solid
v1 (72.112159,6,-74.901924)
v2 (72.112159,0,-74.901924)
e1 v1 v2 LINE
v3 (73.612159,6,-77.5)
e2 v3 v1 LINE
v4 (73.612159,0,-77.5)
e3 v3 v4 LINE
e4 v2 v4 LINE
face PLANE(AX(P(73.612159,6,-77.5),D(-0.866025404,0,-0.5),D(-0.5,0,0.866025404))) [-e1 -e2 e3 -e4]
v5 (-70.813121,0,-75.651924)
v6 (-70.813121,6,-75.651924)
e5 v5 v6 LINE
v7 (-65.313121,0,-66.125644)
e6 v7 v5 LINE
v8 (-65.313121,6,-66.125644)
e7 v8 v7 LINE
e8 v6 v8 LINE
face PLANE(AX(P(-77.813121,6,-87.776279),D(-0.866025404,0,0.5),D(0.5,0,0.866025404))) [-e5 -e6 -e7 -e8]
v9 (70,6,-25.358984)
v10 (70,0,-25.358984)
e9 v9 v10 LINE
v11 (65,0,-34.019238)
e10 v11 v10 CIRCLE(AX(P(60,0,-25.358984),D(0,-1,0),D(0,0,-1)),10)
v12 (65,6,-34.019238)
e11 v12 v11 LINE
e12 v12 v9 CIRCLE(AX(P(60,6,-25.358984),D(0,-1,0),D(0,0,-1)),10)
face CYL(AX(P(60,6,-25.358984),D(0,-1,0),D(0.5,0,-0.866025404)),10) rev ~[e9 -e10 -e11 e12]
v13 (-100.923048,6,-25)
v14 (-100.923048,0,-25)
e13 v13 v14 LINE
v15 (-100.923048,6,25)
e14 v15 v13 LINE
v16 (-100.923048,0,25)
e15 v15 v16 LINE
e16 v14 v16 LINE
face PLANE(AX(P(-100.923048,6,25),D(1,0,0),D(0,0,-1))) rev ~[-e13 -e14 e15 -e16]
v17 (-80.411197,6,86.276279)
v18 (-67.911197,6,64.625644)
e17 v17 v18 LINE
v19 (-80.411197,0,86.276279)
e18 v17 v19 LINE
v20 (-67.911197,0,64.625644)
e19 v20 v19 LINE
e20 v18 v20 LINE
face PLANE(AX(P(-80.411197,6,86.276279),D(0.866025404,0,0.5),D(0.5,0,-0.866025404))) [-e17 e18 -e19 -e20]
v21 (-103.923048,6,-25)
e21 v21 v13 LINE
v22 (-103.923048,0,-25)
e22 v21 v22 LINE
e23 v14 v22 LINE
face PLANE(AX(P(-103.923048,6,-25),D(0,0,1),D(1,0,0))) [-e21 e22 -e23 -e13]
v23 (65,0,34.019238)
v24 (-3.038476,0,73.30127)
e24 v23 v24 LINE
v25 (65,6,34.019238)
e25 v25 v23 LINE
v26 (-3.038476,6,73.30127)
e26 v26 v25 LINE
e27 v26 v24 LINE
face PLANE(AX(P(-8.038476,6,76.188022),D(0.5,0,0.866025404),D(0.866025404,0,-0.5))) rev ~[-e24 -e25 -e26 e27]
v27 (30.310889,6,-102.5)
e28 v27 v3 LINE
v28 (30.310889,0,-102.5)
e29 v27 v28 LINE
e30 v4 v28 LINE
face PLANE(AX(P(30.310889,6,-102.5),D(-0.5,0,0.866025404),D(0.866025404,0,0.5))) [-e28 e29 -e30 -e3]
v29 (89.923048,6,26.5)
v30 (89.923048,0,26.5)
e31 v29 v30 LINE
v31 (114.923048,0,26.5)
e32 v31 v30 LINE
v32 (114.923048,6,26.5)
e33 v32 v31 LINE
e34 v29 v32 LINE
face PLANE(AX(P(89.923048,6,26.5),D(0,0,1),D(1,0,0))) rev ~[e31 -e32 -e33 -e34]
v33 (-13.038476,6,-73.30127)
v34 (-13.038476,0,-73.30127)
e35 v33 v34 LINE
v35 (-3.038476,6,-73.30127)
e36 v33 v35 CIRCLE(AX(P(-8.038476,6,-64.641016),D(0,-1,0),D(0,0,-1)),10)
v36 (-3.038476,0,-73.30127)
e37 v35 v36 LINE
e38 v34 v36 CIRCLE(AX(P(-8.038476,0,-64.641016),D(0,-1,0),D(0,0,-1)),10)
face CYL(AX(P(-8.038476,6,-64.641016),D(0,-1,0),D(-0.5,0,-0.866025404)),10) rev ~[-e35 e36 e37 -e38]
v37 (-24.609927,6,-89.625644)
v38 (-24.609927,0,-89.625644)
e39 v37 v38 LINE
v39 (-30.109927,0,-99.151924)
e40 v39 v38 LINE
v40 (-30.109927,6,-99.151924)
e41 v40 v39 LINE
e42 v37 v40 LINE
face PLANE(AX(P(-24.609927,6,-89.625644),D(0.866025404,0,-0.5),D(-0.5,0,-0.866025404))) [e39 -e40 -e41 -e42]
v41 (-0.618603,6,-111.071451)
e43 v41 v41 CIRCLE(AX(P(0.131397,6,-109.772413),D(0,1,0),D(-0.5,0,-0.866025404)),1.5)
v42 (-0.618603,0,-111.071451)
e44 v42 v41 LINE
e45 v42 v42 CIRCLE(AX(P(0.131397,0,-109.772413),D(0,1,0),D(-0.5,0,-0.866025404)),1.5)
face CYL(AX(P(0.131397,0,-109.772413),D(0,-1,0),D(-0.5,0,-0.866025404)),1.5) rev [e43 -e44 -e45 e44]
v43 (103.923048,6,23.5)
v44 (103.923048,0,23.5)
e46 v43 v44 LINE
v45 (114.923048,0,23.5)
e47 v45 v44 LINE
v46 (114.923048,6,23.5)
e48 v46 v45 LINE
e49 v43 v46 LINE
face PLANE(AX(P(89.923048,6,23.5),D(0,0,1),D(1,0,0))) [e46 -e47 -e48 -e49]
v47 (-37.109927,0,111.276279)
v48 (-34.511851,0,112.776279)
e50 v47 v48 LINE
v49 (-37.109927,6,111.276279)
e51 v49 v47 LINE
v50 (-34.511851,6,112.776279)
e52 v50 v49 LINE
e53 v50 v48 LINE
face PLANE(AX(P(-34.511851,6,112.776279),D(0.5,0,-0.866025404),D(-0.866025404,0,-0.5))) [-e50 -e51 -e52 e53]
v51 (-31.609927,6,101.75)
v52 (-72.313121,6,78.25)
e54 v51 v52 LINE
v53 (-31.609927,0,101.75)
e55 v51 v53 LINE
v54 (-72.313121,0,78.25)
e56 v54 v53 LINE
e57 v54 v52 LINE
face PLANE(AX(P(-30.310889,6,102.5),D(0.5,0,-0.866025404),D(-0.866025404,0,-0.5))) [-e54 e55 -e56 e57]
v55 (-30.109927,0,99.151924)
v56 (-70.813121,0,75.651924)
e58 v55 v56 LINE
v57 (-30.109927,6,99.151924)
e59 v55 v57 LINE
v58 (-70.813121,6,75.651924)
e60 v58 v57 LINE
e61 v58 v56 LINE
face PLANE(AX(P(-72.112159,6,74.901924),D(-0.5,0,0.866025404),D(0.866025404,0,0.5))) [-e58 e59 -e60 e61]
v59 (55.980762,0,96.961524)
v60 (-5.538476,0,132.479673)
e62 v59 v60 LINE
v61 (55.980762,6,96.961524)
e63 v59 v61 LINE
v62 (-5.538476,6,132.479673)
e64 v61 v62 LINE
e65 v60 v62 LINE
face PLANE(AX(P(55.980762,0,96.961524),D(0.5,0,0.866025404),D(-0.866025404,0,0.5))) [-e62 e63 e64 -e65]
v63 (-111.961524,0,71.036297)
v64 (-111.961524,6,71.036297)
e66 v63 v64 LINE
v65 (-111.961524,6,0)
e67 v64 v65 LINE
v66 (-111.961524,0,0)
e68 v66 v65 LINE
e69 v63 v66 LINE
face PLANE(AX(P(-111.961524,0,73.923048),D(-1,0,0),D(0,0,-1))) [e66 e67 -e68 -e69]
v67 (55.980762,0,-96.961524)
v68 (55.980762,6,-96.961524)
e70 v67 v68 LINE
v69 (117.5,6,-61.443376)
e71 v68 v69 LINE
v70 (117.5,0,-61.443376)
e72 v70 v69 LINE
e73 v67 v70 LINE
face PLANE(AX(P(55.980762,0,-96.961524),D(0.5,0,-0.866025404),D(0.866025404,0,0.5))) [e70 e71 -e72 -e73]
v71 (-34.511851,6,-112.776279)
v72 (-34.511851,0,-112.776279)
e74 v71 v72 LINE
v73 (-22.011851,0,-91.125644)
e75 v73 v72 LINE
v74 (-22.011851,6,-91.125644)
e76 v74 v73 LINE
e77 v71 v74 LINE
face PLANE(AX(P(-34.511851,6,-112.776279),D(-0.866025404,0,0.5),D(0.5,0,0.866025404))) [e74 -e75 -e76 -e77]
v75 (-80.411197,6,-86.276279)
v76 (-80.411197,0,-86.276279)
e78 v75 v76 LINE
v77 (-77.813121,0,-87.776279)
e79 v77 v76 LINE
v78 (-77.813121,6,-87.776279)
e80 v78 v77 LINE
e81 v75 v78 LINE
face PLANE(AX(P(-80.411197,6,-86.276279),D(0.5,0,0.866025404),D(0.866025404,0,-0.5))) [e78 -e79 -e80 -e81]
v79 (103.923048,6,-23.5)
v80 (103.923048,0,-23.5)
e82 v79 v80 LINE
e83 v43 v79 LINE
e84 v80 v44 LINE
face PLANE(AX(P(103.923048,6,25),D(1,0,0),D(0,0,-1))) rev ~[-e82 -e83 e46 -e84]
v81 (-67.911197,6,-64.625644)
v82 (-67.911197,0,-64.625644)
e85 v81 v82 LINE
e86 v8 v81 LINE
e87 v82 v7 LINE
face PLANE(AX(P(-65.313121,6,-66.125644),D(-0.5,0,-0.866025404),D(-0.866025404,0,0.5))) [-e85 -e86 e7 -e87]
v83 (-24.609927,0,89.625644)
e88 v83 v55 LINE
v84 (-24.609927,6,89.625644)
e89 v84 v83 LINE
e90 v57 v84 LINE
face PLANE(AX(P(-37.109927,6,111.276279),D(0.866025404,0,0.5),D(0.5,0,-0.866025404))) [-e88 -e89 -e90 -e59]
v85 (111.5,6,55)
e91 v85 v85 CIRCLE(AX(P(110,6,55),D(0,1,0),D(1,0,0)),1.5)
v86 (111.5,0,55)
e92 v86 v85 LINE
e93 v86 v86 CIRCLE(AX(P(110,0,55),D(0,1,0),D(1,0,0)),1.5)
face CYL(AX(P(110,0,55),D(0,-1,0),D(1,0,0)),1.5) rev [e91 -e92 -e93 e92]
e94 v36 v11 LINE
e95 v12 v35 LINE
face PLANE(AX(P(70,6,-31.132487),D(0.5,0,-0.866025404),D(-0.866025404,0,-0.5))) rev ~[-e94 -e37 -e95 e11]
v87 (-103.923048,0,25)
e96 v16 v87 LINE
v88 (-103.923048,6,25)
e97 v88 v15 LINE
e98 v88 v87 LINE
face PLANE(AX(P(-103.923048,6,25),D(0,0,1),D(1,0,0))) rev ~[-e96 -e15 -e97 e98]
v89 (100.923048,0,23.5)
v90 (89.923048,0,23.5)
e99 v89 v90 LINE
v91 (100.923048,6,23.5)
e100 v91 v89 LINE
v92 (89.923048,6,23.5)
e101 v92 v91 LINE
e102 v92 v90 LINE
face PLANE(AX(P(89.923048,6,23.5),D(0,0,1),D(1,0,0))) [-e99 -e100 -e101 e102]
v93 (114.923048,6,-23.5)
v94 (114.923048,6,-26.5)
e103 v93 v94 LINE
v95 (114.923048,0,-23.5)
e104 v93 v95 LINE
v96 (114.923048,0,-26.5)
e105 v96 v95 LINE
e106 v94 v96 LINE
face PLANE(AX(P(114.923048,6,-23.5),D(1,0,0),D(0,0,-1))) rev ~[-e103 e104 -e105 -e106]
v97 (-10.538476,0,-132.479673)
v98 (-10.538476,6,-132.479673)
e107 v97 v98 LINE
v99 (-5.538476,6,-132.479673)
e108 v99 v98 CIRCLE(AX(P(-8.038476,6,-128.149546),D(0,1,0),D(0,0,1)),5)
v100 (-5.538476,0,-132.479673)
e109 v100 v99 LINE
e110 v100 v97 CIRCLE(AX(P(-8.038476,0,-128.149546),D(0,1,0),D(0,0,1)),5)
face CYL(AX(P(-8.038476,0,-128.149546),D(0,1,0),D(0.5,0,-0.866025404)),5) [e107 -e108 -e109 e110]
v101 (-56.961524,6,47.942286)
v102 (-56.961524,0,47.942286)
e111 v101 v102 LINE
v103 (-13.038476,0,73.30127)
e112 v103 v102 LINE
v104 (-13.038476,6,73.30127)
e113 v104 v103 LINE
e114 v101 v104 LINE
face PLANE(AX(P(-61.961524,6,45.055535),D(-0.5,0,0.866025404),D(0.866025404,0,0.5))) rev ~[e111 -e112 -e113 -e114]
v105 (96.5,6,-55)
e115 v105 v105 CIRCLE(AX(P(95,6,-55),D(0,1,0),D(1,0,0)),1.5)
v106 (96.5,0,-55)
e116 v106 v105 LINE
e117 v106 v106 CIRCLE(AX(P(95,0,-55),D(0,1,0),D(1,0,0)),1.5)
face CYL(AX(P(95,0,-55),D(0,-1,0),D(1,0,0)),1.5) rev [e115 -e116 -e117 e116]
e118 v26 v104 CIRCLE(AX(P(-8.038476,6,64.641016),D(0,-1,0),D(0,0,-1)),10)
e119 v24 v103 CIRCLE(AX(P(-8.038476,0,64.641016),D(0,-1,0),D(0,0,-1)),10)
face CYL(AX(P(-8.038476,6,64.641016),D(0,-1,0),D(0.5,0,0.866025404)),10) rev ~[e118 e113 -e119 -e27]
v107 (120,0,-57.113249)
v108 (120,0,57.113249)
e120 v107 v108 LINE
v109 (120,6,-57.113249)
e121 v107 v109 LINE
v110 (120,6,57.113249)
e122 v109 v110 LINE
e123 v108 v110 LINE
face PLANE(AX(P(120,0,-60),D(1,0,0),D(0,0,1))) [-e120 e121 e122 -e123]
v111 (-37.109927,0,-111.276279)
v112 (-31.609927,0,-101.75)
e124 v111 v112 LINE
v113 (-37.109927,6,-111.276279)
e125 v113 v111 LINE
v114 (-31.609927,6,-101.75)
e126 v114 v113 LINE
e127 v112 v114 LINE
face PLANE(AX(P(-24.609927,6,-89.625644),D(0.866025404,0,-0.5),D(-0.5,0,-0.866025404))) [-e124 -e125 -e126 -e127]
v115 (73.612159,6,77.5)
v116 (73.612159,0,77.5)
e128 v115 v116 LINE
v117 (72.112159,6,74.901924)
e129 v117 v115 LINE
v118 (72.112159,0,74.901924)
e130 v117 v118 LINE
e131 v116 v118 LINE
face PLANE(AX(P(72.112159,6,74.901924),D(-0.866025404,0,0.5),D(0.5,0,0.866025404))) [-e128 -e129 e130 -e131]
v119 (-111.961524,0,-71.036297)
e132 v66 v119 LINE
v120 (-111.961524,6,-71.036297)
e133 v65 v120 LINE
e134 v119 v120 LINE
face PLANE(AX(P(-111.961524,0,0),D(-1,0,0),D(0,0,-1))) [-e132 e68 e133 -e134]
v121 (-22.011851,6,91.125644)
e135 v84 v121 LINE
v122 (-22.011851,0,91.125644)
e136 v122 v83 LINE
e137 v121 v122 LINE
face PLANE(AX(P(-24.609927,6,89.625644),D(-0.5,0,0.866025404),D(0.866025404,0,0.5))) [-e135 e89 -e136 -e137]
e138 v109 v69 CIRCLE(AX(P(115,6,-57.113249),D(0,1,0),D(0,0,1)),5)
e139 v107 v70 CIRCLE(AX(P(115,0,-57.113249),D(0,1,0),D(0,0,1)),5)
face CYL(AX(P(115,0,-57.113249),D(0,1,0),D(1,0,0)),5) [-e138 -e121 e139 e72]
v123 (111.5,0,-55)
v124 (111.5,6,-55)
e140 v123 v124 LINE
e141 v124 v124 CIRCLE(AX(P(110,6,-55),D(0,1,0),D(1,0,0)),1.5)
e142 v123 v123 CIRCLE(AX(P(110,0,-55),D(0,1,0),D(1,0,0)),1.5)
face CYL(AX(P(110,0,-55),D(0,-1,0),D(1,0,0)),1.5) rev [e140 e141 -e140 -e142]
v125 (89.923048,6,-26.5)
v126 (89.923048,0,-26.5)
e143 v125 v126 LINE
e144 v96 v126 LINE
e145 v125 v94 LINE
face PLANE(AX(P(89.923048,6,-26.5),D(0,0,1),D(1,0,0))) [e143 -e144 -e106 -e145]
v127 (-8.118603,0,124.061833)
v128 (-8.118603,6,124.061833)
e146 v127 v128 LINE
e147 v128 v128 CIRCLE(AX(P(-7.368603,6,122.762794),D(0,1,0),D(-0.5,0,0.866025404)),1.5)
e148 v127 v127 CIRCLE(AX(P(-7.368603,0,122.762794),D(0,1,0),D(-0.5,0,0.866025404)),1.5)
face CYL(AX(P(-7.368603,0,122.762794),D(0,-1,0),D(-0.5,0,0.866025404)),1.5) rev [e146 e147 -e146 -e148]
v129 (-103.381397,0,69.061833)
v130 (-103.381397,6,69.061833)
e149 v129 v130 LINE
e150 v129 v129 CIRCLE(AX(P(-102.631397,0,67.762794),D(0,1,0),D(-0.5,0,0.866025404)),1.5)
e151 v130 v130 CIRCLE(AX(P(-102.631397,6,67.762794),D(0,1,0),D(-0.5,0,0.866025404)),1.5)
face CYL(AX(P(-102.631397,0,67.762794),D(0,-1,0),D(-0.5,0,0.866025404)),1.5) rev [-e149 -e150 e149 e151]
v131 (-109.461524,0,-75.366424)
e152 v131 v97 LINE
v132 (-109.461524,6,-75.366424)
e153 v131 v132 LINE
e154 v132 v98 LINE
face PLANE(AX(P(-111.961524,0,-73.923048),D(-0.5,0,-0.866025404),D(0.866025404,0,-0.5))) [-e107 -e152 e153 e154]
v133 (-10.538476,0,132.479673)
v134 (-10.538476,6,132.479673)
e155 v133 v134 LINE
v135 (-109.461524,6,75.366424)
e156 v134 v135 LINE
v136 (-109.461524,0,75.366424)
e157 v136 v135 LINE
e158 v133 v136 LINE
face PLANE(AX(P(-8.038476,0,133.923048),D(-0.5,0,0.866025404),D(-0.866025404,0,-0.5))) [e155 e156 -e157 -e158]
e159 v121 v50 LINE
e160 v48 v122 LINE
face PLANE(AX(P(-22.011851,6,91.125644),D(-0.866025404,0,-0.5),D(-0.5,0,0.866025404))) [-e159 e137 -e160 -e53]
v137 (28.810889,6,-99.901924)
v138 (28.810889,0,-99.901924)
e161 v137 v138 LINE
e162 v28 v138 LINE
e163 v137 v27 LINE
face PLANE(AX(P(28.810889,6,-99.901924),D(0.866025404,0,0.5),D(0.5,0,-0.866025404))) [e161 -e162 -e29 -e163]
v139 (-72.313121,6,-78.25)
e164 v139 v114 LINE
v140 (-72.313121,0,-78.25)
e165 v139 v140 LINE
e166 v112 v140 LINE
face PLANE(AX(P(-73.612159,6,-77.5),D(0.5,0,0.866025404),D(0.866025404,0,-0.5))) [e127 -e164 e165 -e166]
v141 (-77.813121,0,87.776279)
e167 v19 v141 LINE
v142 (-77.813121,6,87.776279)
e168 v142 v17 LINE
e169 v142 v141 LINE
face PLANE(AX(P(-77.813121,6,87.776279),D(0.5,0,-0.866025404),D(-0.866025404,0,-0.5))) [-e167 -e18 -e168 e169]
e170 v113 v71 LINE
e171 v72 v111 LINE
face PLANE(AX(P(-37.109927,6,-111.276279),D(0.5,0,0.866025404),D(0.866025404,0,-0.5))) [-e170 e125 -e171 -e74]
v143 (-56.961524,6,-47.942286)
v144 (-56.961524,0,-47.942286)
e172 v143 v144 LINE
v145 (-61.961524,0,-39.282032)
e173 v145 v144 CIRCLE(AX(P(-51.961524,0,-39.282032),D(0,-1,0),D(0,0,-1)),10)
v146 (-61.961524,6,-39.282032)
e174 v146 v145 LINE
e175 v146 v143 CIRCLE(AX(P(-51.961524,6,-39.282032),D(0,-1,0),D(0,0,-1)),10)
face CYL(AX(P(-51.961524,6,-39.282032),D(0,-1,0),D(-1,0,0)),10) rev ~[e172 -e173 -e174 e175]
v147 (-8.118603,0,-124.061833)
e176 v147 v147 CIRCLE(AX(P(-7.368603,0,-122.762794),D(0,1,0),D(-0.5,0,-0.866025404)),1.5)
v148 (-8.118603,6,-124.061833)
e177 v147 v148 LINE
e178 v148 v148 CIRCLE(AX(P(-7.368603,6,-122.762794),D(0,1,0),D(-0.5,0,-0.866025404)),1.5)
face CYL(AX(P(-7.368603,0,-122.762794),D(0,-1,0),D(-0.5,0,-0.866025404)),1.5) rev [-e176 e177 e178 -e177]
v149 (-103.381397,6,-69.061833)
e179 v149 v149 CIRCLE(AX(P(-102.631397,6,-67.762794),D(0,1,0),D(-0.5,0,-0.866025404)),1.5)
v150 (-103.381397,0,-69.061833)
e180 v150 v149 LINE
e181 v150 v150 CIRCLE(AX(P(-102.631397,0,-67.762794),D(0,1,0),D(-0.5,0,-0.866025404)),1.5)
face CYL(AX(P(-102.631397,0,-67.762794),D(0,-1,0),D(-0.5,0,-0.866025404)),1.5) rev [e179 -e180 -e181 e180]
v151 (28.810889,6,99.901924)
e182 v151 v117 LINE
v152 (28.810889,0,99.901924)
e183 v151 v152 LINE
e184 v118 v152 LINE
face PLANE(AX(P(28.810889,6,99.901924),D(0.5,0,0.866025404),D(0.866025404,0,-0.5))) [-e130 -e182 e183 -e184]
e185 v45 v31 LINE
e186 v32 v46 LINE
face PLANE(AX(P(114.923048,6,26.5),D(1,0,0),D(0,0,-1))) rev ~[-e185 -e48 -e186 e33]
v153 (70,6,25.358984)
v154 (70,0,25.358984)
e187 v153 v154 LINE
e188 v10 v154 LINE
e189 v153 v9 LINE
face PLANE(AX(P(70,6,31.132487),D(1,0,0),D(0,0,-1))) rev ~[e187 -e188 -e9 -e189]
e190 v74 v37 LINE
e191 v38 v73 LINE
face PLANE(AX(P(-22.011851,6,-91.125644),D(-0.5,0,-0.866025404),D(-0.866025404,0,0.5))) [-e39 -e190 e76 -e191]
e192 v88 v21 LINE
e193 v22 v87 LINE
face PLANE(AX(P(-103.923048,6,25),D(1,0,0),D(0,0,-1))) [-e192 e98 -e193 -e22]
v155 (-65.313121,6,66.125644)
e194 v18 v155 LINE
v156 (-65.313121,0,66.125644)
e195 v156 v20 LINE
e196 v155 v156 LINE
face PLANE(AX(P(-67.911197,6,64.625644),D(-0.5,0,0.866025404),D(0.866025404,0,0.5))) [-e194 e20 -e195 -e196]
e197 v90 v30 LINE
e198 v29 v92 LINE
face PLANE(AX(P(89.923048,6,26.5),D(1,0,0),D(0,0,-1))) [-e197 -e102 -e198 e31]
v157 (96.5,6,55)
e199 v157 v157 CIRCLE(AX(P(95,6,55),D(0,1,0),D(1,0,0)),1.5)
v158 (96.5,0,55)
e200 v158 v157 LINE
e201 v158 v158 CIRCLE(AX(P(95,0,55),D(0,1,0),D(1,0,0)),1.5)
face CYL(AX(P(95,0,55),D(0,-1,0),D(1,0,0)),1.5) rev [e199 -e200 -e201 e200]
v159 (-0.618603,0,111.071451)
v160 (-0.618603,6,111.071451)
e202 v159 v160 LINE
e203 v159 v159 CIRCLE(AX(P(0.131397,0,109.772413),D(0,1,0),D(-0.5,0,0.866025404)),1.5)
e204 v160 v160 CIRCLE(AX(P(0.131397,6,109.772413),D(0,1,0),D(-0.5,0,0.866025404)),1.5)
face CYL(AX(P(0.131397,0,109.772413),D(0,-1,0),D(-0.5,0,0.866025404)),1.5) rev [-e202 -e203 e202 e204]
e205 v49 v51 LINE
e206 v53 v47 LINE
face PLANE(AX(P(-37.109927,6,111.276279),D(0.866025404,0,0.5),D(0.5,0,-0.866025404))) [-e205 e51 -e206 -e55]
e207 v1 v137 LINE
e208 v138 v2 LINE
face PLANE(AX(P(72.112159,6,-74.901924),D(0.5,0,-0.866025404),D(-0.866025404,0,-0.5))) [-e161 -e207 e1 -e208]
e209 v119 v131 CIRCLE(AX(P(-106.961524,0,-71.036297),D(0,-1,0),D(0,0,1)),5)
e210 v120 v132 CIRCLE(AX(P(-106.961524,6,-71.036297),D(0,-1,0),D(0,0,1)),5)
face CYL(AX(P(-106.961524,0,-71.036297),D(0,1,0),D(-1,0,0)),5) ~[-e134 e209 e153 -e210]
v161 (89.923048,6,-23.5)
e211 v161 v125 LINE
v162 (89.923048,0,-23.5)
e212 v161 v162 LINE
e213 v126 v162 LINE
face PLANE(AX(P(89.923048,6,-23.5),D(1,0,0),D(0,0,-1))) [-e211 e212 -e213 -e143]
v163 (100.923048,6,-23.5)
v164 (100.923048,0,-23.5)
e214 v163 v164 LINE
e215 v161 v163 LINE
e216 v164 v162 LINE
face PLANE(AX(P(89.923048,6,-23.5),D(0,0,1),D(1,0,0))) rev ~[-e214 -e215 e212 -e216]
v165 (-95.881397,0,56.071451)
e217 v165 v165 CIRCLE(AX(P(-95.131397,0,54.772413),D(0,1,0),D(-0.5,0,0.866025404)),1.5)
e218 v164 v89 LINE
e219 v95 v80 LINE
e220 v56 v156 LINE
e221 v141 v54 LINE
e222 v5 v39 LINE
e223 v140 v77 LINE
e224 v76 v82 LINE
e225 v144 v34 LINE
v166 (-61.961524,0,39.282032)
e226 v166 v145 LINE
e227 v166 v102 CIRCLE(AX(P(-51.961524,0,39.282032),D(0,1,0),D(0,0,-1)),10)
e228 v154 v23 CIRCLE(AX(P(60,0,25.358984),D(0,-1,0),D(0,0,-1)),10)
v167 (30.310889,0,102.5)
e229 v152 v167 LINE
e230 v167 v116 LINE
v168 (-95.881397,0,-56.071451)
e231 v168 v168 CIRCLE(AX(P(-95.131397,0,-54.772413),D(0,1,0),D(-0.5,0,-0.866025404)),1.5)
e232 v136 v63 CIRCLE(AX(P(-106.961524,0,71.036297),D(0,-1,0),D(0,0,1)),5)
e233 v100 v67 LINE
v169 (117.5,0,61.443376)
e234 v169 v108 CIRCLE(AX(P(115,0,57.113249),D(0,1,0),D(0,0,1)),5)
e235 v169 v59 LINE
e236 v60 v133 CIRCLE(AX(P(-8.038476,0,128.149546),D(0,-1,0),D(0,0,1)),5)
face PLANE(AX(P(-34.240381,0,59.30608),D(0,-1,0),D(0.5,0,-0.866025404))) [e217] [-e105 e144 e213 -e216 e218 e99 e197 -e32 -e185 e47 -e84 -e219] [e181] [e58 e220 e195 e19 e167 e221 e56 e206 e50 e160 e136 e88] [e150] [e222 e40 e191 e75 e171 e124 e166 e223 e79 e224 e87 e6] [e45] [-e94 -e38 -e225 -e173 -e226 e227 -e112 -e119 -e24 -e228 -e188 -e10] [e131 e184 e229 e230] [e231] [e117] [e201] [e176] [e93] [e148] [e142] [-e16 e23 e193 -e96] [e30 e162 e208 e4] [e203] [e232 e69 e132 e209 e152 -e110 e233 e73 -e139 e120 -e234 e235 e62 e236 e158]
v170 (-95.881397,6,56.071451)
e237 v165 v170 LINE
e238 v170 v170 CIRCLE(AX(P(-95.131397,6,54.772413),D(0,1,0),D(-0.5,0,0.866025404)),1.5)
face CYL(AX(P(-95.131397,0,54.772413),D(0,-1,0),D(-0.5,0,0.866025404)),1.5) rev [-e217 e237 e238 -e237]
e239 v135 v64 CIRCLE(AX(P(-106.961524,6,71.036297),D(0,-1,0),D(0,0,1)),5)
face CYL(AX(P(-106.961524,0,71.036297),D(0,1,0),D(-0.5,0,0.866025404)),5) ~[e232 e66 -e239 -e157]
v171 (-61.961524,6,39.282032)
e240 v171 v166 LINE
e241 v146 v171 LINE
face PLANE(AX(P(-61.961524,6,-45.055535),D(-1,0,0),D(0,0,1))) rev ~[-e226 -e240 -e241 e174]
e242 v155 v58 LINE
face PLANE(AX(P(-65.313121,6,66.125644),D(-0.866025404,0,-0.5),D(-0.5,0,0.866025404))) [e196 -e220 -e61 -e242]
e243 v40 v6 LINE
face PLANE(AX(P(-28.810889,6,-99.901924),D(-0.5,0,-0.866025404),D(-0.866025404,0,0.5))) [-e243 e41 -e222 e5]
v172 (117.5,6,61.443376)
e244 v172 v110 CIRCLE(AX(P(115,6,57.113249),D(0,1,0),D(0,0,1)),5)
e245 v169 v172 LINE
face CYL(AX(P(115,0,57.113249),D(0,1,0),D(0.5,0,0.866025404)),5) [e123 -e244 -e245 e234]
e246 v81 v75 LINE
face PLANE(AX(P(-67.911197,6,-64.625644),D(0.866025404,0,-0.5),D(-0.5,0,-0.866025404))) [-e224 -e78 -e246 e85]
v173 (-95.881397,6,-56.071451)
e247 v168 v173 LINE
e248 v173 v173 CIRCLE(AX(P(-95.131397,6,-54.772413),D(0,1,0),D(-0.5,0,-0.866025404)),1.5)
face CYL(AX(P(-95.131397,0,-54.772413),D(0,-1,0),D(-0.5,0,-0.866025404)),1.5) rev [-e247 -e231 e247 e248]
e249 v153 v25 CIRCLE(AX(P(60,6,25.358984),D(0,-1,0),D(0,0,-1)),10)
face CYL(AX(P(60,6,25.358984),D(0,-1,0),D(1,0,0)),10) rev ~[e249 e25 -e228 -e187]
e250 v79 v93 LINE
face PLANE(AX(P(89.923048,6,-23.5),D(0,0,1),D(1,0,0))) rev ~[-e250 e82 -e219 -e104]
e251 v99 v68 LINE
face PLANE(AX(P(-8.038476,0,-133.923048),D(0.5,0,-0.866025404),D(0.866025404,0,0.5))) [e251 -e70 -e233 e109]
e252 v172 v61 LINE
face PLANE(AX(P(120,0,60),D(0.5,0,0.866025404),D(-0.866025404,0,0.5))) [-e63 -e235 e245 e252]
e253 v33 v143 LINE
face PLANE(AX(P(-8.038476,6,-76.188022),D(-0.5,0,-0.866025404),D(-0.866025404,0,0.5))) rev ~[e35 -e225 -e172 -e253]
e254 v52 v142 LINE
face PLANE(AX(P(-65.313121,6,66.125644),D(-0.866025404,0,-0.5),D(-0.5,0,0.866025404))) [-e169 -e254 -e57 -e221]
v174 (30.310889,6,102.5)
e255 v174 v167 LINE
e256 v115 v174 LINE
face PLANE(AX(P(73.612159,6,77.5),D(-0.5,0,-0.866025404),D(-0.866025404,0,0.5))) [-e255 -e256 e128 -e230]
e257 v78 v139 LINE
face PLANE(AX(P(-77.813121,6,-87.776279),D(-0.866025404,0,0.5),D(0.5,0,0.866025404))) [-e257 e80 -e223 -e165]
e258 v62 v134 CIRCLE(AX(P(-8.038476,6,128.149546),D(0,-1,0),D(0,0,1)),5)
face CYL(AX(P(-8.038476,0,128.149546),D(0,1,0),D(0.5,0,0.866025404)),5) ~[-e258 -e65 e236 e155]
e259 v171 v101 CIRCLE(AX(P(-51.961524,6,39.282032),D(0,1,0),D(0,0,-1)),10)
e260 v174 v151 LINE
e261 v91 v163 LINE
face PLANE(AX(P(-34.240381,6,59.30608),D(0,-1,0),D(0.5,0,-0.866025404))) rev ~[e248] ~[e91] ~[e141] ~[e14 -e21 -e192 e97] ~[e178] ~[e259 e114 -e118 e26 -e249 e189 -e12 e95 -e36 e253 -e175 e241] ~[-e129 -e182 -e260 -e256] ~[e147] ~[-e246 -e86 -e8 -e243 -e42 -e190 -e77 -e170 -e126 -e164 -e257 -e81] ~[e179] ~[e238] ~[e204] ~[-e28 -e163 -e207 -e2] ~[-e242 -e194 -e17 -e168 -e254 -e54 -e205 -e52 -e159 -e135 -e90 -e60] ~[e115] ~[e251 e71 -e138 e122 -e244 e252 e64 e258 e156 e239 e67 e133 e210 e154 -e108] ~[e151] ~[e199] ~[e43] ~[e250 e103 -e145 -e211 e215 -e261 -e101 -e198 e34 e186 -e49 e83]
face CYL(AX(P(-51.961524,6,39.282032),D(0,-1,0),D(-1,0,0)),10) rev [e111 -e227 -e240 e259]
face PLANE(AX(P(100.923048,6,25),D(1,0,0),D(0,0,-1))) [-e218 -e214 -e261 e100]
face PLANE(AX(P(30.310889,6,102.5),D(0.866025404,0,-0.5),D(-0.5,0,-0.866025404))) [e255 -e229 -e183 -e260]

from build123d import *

# Parameters (mm, degrees)
SKETCH6_R           = 1.5
BOSS_EXTRUDE4_DEPTH = 6
CIRPATTERN1_COUNT   = 3
SKETCH8_W           = 3
SKETCH8_H           = 50
CUT_EXTRUDE3_DEPTH  = 7
CUT_EXTRUDE4_DEPTH  = 7
FILLET1_R           = 10
FILLET2_R           = 5
SKETCH9_W           = 25
SKETCH9_H           = 3
CUT_EXTRUDE5_DEPTH  = 7


with BuildPart() as part:
    # Sketch6 → Boss-Extrude4 (new body)
    with BuildSketch(Plane(origin=(0, 0, 0), x_dir=(1, 0, 0), z_dir=(0, 1, 0))):
        Polygon((0, 0), (55.980762114, 96.961524227), (120, 60), (120, -60), (55.980762114, -96.961524227), align=None)
        with Locations((95, 55)):
            Circle(SKETCH6_R, mode=Mode.SUBTRACT)
        with Locations((110, 55)):
            Circle(SKETCH6_R, mode=Mode.SUBTRACT)
        with Locations((95, -55)):
            Circle(SKETCH6_R, mode=Mode.SUBTRACT)
        with Locations((110, -55)):
            Circle(SKETCH6_R, mode=Mode.SUBTRACT)
    boss_extrude4 = extrude(amount=BOSS_EXTRUDE4_DEPTH)

    # CirPattern1: Boss-Extrude4 ×3 about axis
    cirpattern1_axis = Axis((0, 0, 0), (0, 1, 0))
    for i in range(1, CIRPATTERN1_COUNT):
        add(boss_extrude4.rotate(cirpattern1_axis, i * 360 / CIRPATTERN1_COUNT))

    # Sketch8 → Cut-Extrude3 (cut, through all)
    with BuildSketch(Plane(origin=(0, 6, 0), x_dir=(1, 0, 0), z_dir=(0, 1, 0))):
        Polygon((73.612159322, -77.5), (30.310889132, -102.5), (28.810889132, -99.901923789), (72.112159322, -74.901923789), align=None)
        with Locations((102.423048454, 0)):
            Rectangle(SKETCH8_W, SKETCH8_H)
        Polygon((-30.310889132, -102.5), (-73.612159322, -77.5), (-72.112159322, -74.901923789), (-28.810889132, -99.901923789), align=None)
        with Locations((-102.423048454, 0)):
            Rectangle(SKETCH8_W, SKETCH8_H)
        Polygon((-73.612159322, 77.5), (-30.310889132, 102.5), (-28.810889132, 99.901923789), (-72.112159322, 74.901923789), align=None)
        Polygon((30.310889132, 102.5), (73.612159322, 77.5), (72.112159322, 74.901923789), (28.810889132, 99.901923789), align=None)
    extrude(amount=-CUT_EXTRUDE3_DEPTH, mode=Mode.SUBTRACT)

    # Sketch7 → Cut-Extrude4 (cut, through all)
    with BuildSketch(Plane(origin=(0, 6, 0), x_dir=(1, 0, 0), z_dir=(0, 1, 0))):
        Polygon((-61.961524227, 45.055534995), (-61.961524227, -45.055534995), (-8.038475773, -76.188021535), (70, -31.132486541), (70, 31.132486541), (-8.038475773, 76.188021535), align=None)
    extrude(amount=-CUT_EXTRUDE4_DEPTH, mode=Mode.SUBTRACT)

    # Fillet1
    fillet1_edges = [part.edges().sort_by_distance(p)[0] for p in [
        (-61.961524227, 3, -45.055534995),
        (-8.038475773, 3, -76.188021535),
        (70, 3, -31.132486541),
        (70, 3, 31.132486541),
        (-8.038475773, 3, 76.188021535),
        (-61.961524227, 3, 45.055534995),
    ]]
    fillet(fillet1_edges, radius=FILLET1_R)

    # Fillet2
    fillet2_edges = [part.edges().sort_by_distance(p)[0] for p in [
        (-8.038475773, 3, -133.923048454),
        (-111.961524227, 3, -73.923048454),
        (-111.961524227, 3, 73.923048454),
        (-8.038475773, 3, 133.923048454),
        (120, 3, -60),
        (120, 3, 60),
    ]]
    fillet(fillet2_edges, radius=FILLET2_R)

    # Sketch9 → Cut-Extrude5 (cut, through all)
    with BuildSketch(Plane(origin=(0, 6, 0), x_dir=(1, 0, 0), z_dir=(0, 1, 0))):
        with Locations((102.423048454, -25)):
            Rectangle(SKETCH9_W, SKETCH9_H)
        with Locations((102.423048454, 25)):
            Rectangle(SKETCH9_W, SKETCH9_H)
        Polygon((-67.911197427, -64.625644347), (-65.313121216, -66.125644347), (-77.813121216, -87.776279442), (-80.411197427, -86.276279442), align=None)
        Polygon((-24.609927238, -89.625644347), (-22.011851027, -91.125644347), (-34.511851027, -112.776279442), (-37.109927238, -111.276279442), align=None)
        Polygon((-22.011851027, 91.125644347), (-24.609927238, 89.625644347), (-37.109927238, 111.276279442), (-34.511851027, 112.776279442), align=None)
        Polygon((-65.313121216, 66.125644347), (-67.911197427, 64.625644347), (-80.411197427, 86.276279442), (-77.813121216, 87.776279442), align=None)
    extrude(amount=-CUT_EXTRUDE5_DEPTH, mode=Mode.SUBTRACT)


solid = part.part
